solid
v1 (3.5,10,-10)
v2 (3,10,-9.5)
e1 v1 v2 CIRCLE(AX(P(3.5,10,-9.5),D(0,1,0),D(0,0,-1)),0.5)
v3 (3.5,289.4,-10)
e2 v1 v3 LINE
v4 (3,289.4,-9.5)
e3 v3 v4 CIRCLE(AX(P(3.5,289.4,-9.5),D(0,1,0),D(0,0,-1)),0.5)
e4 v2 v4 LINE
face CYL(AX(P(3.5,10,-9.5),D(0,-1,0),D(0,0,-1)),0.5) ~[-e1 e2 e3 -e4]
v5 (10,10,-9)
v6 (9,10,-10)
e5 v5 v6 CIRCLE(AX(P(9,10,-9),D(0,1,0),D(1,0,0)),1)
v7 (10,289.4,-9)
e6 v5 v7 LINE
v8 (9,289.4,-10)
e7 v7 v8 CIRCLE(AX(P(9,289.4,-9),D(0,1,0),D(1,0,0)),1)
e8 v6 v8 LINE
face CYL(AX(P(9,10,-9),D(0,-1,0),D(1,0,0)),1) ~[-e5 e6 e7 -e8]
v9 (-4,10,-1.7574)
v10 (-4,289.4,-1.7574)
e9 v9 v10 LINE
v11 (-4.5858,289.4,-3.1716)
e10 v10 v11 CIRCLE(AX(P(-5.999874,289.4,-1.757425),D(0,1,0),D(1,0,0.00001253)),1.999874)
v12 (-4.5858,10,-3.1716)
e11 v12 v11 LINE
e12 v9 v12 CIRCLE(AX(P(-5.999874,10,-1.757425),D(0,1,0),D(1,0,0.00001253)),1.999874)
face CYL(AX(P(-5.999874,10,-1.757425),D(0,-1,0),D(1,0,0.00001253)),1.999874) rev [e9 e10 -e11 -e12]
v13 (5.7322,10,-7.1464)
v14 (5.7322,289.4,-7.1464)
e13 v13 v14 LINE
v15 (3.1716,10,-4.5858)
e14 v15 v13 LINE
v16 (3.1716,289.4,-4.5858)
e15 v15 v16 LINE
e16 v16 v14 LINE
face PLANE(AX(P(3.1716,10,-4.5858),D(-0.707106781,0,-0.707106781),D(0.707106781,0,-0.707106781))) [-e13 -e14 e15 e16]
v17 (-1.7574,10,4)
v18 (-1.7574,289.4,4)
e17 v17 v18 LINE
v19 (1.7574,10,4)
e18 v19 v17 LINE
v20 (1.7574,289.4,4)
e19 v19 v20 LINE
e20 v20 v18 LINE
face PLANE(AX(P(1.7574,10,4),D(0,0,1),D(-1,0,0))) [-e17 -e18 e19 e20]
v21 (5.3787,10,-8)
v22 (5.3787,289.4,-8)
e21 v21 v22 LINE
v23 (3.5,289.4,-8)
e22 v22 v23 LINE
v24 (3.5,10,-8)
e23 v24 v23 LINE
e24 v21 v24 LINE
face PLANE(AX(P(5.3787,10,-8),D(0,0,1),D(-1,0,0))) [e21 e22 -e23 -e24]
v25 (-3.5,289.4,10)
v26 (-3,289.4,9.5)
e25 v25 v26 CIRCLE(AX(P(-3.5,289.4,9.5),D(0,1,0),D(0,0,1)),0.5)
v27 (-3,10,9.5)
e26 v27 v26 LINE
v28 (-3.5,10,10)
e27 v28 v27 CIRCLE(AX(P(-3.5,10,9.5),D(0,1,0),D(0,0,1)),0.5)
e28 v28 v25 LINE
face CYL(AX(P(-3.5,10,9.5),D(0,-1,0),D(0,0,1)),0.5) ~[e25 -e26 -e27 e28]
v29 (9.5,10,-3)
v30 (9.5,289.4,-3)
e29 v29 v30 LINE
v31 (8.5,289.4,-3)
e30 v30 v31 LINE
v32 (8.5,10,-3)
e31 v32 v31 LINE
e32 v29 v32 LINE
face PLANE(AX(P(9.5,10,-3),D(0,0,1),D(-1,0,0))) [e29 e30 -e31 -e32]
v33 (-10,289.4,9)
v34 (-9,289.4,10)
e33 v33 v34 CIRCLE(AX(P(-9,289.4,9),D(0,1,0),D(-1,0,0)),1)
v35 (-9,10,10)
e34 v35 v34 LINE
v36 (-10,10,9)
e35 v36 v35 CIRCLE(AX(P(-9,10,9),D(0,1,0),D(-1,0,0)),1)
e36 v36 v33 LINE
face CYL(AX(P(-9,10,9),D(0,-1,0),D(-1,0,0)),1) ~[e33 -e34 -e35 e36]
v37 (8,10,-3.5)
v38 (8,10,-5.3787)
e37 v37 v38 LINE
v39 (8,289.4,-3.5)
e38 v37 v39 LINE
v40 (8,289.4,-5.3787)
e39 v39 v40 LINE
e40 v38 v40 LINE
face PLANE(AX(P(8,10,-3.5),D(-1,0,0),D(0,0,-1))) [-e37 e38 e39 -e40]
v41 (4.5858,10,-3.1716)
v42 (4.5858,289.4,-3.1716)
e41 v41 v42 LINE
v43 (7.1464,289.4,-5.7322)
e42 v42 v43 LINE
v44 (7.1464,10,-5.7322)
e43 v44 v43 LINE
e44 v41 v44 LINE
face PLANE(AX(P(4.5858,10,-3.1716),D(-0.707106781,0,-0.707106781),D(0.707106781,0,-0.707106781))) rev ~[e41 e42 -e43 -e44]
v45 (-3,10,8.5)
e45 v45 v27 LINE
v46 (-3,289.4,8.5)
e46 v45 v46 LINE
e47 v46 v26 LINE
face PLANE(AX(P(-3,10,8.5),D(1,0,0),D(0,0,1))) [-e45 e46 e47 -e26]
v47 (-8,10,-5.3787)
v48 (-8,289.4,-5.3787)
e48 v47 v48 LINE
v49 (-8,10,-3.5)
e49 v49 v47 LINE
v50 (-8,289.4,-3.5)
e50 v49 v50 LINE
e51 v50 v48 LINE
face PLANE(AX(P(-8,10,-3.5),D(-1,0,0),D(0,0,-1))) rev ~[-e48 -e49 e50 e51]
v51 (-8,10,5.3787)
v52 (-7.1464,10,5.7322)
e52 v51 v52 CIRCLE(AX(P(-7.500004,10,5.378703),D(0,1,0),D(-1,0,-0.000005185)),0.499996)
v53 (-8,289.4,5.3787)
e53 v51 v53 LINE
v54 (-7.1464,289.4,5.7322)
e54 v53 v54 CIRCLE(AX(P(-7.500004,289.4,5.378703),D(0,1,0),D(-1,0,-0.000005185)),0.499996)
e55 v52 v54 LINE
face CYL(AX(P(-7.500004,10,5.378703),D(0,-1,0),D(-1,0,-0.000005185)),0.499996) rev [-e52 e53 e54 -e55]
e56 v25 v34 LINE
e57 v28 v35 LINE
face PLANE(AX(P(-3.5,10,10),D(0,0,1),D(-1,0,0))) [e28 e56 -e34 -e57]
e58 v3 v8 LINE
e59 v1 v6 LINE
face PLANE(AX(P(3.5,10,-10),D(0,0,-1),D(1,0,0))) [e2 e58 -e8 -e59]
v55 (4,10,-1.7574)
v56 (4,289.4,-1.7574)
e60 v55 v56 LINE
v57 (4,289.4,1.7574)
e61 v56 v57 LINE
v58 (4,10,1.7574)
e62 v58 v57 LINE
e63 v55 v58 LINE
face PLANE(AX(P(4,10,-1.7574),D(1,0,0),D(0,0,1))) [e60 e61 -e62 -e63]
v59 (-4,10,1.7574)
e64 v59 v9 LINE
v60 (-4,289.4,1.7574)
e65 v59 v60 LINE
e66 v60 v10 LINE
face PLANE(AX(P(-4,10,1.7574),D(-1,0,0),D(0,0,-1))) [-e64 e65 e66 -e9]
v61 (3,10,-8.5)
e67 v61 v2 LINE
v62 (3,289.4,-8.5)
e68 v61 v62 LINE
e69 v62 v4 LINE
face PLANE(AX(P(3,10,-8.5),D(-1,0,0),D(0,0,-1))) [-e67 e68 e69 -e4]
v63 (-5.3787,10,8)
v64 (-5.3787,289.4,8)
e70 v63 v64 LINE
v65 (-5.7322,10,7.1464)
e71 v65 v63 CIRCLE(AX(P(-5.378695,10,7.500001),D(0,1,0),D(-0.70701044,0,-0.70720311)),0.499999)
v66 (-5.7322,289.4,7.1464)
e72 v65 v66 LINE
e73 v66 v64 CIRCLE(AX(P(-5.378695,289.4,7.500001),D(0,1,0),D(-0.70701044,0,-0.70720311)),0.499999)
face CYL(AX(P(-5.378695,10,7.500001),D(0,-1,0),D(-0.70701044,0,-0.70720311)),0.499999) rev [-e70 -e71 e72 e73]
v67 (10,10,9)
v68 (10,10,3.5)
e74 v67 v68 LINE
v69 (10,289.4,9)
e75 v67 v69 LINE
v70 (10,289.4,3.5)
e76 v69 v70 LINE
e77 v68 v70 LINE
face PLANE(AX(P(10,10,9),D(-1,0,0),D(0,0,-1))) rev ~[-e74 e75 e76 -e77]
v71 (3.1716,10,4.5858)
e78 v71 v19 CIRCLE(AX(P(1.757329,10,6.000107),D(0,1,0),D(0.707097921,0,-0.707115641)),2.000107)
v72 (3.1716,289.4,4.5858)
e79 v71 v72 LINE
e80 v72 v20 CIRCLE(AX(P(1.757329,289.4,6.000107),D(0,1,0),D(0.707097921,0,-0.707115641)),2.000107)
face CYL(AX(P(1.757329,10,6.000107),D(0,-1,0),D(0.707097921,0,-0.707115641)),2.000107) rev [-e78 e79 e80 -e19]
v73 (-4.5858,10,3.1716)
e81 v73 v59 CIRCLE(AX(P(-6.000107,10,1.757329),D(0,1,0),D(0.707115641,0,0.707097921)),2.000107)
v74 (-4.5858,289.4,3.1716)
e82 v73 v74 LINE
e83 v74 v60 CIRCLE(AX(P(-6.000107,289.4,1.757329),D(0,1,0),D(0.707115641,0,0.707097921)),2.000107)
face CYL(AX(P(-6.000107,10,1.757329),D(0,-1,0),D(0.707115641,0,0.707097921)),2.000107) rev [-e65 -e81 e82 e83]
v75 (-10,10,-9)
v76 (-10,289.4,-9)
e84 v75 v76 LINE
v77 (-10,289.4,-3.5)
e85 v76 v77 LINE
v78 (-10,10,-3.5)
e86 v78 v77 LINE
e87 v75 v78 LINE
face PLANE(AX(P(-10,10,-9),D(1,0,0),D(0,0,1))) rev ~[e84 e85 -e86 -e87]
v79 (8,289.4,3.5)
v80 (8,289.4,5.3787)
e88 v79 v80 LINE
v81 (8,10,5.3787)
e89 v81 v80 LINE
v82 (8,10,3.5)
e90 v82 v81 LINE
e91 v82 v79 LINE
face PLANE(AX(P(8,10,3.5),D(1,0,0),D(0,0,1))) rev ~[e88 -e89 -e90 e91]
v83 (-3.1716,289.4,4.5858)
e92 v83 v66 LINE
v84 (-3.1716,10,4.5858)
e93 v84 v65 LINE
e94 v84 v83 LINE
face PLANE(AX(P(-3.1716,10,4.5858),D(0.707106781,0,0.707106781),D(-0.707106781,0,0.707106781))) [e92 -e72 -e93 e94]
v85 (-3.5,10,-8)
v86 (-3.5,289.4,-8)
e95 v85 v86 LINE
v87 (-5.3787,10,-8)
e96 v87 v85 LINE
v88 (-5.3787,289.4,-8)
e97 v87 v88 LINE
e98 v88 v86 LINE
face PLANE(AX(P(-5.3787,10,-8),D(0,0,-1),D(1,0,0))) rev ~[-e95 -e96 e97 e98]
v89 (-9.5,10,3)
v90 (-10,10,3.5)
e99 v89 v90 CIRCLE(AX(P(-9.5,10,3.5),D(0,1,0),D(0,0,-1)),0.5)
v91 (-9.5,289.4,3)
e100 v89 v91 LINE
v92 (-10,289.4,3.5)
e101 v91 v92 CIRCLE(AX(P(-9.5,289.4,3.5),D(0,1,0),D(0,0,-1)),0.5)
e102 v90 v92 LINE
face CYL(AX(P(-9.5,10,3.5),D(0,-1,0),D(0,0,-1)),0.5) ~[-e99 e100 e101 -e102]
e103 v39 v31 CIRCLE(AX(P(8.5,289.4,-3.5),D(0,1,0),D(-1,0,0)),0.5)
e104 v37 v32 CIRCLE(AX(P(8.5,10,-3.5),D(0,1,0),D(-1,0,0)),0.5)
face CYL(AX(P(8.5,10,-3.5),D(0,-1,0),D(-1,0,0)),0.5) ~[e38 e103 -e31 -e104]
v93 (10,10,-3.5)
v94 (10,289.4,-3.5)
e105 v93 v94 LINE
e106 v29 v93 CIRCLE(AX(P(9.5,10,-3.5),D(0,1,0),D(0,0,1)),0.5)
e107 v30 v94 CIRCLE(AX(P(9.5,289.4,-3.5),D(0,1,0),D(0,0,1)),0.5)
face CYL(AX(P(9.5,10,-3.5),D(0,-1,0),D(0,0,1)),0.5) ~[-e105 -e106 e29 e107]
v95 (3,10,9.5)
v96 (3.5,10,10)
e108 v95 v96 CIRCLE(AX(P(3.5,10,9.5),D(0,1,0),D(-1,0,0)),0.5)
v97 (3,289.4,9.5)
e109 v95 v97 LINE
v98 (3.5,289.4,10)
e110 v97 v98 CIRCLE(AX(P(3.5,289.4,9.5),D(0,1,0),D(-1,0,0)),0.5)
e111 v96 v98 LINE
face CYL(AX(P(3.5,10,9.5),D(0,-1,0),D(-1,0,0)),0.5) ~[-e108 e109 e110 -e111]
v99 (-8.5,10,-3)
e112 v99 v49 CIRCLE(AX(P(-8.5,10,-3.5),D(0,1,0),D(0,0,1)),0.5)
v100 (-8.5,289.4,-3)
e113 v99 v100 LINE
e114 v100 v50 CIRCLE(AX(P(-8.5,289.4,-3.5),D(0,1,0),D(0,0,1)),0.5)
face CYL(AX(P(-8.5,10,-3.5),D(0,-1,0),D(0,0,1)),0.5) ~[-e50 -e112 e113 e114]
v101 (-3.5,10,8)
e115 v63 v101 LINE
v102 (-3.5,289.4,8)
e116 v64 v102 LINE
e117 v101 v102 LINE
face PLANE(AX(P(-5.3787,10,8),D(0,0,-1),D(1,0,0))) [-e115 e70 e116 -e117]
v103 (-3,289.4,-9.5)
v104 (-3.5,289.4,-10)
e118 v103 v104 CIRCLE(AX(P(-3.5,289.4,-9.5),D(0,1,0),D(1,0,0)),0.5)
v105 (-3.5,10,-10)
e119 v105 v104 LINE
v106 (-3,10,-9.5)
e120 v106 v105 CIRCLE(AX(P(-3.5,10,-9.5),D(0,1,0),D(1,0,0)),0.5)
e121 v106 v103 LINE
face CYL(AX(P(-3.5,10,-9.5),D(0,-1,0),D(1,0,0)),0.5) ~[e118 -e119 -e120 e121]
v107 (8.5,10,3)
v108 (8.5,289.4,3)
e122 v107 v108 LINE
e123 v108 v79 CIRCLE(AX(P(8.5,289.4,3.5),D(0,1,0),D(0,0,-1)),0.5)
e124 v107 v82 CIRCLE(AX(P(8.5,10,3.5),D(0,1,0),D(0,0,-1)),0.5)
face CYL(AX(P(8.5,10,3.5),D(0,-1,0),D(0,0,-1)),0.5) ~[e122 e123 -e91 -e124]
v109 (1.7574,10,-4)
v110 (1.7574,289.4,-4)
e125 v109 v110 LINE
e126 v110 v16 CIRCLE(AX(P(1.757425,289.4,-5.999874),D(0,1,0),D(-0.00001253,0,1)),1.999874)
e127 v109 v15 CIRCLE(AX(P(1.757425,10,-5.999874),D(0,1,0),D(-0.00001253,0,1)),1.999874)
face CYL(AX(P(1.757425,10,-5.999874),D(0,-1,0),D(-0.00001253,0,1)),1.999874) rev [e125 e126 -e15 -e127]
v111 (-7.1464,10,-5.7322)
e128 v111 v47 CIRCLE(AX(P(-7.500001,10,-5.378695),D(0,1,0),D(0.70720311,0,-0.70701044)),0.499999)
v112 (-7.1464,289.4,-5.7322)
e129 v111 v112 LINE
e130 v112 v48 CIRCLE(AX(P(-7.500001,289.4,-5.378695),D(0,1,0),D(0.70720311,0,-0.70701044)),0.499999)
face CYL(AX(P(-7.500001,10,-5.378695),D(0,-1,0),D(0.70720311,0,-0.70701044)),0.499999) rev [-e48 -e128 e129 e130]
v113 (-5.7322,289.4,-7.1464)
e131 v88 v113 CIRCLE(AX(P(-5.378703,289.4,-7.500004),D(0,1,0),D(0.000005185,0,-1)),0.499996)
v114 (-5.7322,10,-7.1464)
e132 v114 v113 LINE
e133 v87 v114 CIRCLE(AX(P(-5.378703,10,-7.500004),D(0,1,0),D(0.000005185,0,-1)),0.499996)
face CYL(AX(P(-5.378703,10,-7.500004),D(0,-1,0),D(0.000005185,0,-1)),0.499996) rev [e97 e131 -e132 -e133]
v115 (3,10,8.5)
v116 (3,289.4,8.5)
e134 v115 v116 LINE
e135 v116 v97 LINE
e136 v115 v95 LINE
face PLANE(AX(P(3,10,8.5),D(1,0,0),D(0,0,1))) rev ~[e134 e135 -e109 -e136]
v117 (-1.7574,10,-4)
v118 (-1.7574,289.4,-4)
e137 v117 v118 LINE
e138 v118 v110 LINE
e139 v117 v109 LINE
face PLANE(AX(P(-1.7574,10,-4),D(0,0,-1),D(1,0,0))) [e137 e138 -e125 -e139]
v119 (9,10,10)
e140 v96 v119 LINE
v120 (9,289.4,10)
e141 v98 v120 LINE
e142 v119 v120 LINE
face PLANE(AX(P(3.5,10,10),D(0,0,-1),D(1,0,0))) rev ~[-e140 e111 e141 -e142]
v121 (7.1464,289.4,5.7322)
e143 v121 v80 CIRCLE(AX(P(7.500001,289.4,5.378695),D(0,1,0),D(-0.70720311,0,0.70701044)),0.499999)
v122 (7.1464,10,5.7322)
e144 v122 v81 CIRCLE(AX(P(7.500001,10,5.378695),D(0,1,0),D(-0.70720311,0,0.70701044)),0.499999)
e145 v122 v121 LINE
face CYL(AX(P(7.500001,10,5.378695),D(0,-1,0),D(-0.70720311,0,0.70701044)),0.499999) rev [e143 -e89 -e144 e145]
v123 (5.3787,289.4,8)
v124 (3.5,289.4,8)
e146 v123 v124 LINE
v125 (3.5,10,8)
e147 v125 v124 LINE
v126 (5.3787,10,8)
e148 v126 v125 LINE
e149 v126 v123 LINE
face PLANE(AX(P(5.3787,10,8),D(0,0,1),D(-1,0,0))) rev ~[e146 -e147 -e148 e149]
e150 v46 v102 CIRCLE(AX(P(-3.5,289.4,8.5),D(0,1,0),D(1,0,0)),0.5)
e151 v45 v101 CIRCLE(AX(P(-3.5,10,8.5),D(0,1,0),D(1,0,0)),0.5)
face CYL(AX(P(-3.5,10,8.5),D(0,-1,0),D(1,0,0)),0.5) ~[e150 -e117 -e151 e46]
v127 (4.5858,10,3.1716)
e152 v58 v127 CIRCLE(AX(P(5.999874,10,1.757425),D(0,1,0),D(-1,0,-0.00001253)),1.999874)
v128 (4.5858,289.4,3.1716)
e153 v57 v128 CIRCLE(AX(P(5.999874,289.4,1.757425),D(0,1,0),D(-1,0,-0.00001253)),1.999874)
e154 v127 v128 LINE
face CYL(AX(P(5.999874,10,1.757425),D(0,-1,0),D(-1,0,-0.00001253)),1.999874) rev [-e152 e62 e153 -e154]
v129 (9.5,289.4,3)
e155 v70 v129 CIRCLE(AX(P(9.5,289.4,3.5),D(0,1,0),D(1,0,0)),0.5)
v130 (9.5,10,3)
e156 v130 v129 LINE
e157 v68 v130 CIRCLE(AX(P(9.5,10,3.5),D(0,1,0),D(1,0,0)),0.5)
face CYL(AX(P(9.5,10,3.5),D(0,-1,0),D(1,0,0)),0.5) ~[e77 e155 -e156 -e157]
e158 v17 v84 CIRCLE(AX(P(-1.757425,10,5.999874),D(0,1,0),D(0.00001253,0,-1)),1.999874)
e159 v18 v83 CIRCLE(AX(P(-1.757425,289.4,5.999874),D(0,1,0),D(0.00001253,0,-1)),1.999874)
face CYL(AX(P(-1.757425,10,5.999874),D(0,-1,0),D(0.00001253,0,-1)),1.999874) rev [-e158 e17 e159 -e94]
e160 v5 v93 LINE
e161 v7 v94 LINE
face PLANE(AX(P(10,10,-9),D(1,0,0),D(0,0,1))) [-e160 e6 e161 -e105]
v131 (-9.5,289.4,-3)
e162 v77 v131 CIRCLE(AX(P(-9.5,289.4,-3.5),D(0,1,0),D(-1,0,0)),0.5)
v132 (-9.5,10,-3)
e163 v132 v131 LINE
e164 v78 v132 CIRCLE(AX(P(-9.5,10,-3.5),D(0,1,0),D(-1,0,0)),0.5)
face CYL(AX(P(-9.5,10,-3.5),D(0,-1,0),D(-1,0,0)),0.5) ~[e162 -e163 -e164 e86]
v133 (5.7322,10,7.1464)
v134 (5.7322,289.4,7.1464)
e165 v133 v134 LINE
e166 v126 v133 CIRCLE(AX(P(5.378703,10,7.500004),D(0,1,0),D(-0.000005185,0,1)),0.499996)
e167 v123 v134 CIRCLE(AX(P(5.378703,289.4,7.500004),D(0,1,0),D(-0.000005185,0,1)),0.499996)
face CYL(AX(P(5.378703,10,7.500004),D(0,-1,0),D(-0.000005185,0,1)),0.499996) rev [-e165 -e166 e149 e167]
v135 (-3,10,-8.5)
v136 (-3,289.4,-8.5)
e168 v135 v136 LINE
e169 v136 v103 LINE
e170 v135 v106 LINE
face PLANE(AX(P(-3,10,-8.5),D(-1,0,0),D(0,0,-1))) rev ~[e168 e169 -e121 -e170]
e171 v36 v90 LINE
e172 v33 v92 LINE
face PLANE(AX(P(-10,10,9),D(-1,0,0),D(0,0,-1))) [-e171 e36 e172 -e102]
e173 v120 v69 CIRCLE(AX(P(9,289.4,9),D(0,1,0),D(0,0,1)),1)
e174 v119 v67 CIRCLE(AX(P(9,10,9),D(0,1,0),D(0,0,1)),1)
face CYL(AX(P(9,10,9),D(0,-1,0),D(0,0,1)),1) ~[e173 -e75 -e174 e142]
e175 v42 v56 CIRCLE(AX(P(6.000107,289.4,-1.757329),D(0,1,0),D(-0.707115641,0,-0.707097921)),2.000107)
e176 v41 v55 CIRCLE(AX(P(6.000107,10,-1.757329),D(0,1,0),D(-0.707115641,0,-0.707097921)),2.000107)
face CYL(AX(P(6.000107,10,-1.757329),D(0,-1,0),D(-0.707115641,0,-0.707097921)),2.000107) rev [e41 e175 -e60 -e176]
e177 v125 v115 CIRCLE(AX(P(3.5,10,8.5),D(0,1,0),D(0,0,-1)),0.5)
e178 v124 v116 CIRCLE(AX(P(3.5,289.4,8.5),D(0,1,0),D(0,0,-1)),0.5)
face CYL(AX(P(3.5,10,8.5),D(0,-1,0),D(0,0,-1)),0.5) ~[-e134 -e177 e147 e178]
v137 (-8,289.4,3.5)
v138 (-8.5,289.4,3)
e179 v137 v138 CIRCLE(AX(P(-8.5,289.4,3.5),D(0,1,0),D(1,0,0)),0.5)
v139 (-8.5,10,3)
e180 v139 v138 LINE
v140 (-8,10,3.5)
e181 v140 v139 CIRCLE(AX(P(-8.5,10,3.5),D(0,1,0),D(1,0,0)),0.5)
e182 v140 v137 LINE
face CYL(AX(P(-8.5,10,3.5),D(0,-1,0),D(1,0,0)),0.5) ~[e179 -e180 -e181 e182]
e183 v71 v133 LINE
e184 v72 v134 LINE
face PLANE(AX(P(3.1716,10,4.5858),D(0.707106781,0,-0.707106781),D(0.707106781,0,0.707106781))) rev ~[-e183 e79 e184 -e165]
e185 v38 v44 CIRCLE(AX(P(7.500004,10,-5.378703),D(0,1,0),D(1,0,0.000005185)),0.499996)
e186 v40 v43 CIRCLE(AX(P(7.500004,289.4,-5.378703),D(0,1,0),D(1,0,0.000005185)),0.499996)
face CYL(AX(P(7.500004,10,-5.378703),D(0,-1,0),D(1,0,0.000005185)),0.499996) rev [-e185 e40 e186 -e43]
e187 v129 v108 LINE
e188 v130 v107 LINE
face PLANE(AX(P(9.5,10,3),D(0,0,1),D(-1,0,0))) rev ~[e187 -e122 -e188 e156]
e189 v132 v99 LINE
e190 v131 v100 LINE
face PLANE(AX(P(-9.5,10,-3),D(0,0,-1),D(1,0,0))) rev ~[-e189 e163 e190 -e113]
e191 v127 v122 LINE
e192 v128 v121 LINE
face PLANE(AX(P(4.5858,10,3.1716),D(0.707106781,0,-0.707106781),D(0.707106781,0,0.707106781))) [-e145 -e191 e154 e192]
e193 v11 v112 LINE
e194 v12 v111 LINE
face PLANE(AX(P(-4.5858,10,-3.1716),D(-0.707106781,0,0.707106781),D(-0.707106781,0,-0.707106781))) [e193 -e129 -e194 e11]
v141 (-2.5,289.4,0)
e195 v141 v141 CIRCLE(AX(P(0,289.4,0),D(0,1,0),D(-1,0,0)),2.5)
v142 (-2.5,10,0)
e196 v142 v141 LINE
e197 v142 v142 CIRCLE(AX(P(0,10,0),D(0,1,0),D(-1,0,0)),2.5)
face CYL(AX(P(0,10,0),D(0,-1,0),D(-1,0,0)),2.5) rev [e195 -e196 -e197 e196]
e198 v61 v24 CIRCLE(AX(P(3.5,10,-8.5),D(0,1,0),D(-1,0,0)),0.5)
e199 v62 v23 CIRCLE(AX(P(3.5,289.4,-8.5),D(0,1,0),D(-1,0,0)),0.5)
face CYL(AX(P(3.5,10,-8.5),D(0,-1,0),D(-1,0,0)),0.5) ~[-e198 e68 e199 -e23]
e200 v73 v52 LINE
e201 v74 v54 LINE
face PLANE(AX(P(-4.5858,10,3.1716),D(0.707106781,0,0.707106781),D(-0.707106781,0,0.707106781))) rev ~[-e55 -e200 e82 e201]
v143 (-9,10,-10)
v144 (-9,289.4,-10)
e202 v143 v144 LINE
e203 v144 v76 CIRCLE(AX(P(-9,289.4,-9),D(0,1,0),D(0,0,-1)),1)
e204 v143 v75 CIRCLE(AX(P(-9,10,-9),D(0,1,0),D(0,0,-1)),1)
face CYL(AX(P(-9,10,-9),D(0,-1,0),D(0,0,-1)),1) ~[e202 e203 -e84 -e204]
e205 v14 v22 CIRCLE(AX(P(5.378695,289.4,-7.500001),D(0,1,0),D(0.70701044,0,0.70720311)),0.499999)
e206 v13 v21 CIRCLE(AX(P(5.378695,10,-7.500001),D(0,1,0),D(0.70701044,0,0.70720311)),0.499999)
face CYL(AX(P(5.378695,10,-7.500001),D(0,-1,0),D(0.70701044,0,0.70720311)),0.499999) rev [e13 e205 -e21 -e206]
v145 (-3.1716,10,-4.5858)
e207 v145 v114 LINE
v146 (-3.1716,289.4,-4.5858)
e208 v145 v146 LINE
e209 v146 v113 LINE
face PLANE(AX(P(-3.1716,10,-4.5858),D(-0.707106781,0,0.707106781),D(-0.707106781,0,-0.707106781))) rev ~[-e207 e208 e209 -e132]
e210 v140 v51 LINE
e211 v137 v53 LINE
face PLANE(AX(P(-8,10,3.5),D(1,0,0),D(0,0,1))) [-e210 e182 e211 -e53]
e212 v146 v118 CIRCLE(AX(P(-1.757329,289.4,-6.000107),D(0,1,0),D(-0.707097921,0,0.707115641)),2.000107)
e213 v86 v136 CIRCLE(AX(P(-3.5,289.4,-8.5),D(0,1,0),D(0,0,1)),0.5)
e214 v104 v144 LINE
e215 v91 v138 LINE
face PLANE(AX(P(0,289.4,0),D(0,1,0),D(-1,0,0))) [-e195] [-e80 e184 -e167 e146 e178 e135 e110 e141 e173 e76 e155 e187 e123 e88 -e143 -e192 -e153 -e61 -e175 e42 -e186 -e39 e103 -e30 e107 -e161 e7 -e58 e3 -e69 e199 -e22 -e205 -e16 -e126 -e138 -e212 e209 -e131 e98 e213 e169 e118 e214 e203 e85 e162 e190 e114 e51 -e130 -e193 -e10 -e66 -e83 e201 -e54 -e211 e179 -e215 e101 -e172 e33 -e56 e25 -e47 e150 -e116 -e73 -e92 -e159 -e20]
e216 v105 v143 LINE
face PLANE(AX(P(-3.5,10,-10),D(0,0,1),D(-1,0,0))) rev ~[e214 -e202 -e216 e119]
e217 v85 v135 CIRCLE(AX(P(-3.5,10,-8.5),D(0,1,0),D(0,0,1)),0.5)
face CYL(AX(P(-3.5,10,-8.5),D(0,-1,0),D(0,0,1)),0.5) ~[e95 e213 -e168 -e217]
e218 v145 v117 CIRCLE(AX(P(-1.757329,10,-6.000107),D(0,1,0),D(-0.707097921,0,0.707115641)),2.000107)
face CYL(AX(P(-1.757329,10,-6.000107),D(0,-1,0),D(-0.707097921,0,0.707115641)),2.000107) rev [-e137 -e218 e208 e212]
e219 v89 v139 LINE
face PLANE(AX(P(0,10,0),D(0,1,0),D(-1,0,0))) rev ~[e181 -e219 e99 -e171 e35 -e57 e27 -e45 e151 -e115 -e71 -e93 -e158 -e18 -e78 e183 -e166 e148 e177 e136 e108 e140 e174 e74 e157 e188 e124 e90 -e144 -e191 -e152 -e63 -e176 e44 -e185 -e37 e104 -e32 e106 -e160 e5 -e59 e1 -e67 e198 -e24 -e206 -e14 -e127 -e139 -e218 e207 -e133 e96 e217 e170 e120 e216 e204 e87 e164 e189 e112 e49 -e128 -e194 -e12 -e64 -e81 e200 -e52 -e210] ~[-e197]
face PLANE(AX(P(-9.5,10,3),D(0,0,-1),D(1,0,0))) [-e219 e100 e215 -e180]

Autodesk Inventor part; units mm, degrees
ref_plane "Start Plane" through (0, 10, 0) normal (0, 1, 0) x (-1, 0, 0)
ref_plane "End Plane" through (0, 289.4, 0) normal (0, 1, 0) x (-1, 0, 0)
sketch "Sketch" plane through (0, 0, 0) normal (0, 1, 0) x (-1, 0, 0)
  line L0 (-1.7574, 4) -> (1.7574, 4)
  line L1 (4, 1.7574) -> (4, -1.7574)
  line L2 (1.7574, -4) -> (-1.7574, -4)
  line L3 (-4, -1.7574) -> (-4, 1.7574)
  line L4 (4.5858, -3.1716) -> (7.1464, -5.7322)
  line L5 (3.1716, -4.5858) -> (5.7322, -7.1464)
  line L6 (5.3787, -8) -> (3.5, -8)
  line L7 (3, -8.5) -> (3, -9.5)
  line L8 (3.5, -10) -> (9, -10)
  line L9 (10, -9) -> (10, -3.5)
  line L10 (9.5, -3) -> (8.5, -3)
  line L11 (8, -3.5) -> (8, -5.3787)
  line L12 (4, 0) -> (-4, 0) construction
  line L13 (0, -4) -> (0, 4) construction
  arc A0 (4, -1.7574) -> (4.5858, -3.1716) centre (6, -1.7574) ccw
  arc A1 (3.1716, -4.5858) -> (1.7574, -4) centre (1.7574, -6) ccw
  arc A2 (3.5, -8) -> (3, -8.5) centre (3.5, -8.5) ccw
  arc A3 (3, -9.5) -> (3.5, -10) centre (3.5, -9.5) ccw
  arc A4 (10, -3.5) -> (9.5, -3) centre (9.5, -3.5) ccw
  arc A5 (8.5, -3) -> (8, -3.5) centre (8.5, -3.5) ccw
  arc A6 (7.1464, -5.7322) -> (8, -5.3787) centre (7.5, -5.3787) ccw
  arc A7 (5.3787, -8) -> (5.7322, -7.1464) centre (5.3787, -7.5) ccw
  arc A8 (9, -10) -> (10, -9) centre (9, -9) ccw
  line L14 (-4.5858, -3.1716) -> (-7.1464, -5.7322)
  line L15 (-3.1716, -4.5858) -> (-5.7322, -7.1464)
  line L16 (-5.3787, -8) -> (-3.5, -8)
  line L17 (-3, -8.5) -> (-3, -9.5)
  line L18 (-3.5, -10) -> (-9, -10)
  line L19 (-10, -9) -> (-10, -3.5)
  line L20 (-9.5, -3) -> (-8.5, -3)
  line L21 (-8, -3.5) -> (-8, -5.3787)
  arc A9 (-4.5858, -3.1716) -> (-4, -1.7574) centre (-6, -1.7574) ccw
  arc A10 (-1.7574, -4) -> (-3.1716, -4.5858) centre (-1.7574, -6) ccw
  arc A11 (-3, -8.5) -> (-3.5, -8) centre (-3.5, -8.5) ccw
  arc A12 (-3.5, -10) -> (-3, -9.5) centre (-3.5, -9.5) ccw
  arc A13 (-9.5, -3) -> (-10, -3.5) centre (-9.5, -3.5) ccw
  arc A14 (-8, -3.5) -> (-8.5, -3) centre (-8.5, -3.5) ccw
  arc A15 (-8, -5.3787) -> (-7.1464, -5.7322) centre (-7.5, -5.3787) ccw
  arc A16 (-5.7322, -7.1464) -> (-5.3787, -8) centre (-5.3787, -7.5) ccw
  arc A17 (-10, -9) -> (-9, -10) centre (-9, -9) ccw
  line L22 (4.5858, 3.1716) -> (7.1464, 5.7322)
  line L23 (3.1716, 4.5858) -> (5.7322, 7.1464)
  line L24 (5.3787, 8) -> (3.5, 8)
  line L25 (3, 8.5) -> (3, 9.5)
  line L26 (3.5, 10) -> (9, 10)
  line L27 (10, 9) -> (10, 3.5)
  line L28 (9.5, 3) -> (8.5, 3)
  line L29 (8, 3.5) -> (8, 5.3787)
  arc A18 (4.5858, 3.1716) -> (4, 1.7574) centre (6, 1.7574) ccw
  arc A19 (1.7574, 4) -> (3.1716, 4.5858) centre (1.7574, 6) ccw
  arc A20 (3, 8.5) -> (3.5, 8) centre (3.5, 8.5) ccw
  arc A21 (3.5, 10) -> (3, 9.5) centre (3.5, 9.5) ccw
  arc A22 (9.5, 3) -> (10, 3.5) centre (9.5, 3.5) ccw
  arc A23 (8, 3.5) -> (8.5, 3) centre (8.5, 3.5) ccw
  arc A24 (8, 5.3787) -> (7.1464, 5.7322) centre (7.5, 5.3787) ccw
  arc A25 (5.7322, 7.1464) -> (5.3787, 8) centre (5.3787, 7.5) ccw
  arc A26 (10, 9) -> (9, 10) centre (9, 9) ccw
  line L30 (-10, 9) -> (-10, 3.5)
  arc A27 (-9, 10) -> (-10, 9) centre (-9, 9) ccw
  arc A28 (-10, 3.5) -> (-9.5, 3) centre (-9.5, 3.5) ccw
  line L31 (-9.5, 3) -> (-8.5, 3)
  arc A29 (-8.5, 3) -> (-8, 3.5) centre (-8.5, 3.5) ccw
  line L32 (-8, 3.5) -> (-8, 5.3787)
  arc A30 (-7.1464, 5.7322) -> (-8, 5.3787) centre (-7.5, 5.3787) ccw
  line L33 (-4.5858, 3.1716) -> (-7.1464, 5.7322)
  line L34 (-3.1716, 4.5858) -> (-5.7322, 7.1464)
  arc A31 (-3.1716, 4.5858) -> (-1.7574, 4) centre (-1.7574, 6) ccw
  arc A32 (-4, 1.7574) -> (-4.5858, 3.1716) centre (-6, 1.7574) ccw
  arc A33 (-5.3787, 8) -> (-5.7322, 7.1464) centre (-5.3787, 7.5) ccw
  line L35 (-5.3787, 8) -> (-3.5, 8)
  arc A34 (-3.5, 8) -> (-3, 8.5) centre (-3.5, 8.5) ccw
  line L36 (-3, 8.5) -> (-3, 9.5)
  arc A35 (-3, 9.5) -> (-3.5, 10) centre (-3.5, 9.5) ccw
  line L37 (-3.5, 10) -> (-9, 10)
  circle A36 centre (0, 0) radius 2.5
  point P0 (3, -8)
  point P1 (3, -10)
  point P2 (10, -10)
  dimension "d3" = 2
  dimension "d4" = 2
  dimension "d5" = 7
  dimension "d6" = 2
  dimension "d7" = 0.5
  dimension "d8" = 1
  dimension "d9" = 20
  dimension "d10" = 20
  dimension "d11" = 8
  dimension "d13" = 5
  dimension "d14" = 8
extrude "Body" add sketch "Sketch" along normal up to surface (279.4 mm away) from surface at 10
sketch "Sketch4" plane through (0, 0, 0) normal (0, 1, 0) x (-1, 0, 0)
  line L0 (0, 0) -> (10, 0)
ref_plane "Work Plane4" through (0, 0, 0) normal (0, 0, -1) x (-1, 0, 0)
sketch "Sketch5" plane through (0, 0, 0) normal (0, 0, -1) x (-1, 0, 0)
  line L0 (-2, 10) -> (12, 10)
  line L1 (-2, 289.4) -> (12, 289.4)
  dimension "d22" = 279.4
ref_plane "Work Plane5" through (9, 10, -660.4) normal (0, -1, 0) x (1, 0, 0)
split "Split1" plane through (9, 10, -660.4) removes the side toward (0, -1, 0)
ref_plane "Work Plane6" through (0, 289.4, 9) normal (0, 1, 0) x (1, 0, 0)
split "Split2" plane through (0, 289.4, 9) removes the side toward (0, 1, 0)
equation "\"d18\" = Length + G_OFFSET_END"
equation "\"G_L\" = d22"
equation "\"Length\" = 279.4"
equation "\"G_OFFSET_END\" = 10"
properties part number "A3.3"
